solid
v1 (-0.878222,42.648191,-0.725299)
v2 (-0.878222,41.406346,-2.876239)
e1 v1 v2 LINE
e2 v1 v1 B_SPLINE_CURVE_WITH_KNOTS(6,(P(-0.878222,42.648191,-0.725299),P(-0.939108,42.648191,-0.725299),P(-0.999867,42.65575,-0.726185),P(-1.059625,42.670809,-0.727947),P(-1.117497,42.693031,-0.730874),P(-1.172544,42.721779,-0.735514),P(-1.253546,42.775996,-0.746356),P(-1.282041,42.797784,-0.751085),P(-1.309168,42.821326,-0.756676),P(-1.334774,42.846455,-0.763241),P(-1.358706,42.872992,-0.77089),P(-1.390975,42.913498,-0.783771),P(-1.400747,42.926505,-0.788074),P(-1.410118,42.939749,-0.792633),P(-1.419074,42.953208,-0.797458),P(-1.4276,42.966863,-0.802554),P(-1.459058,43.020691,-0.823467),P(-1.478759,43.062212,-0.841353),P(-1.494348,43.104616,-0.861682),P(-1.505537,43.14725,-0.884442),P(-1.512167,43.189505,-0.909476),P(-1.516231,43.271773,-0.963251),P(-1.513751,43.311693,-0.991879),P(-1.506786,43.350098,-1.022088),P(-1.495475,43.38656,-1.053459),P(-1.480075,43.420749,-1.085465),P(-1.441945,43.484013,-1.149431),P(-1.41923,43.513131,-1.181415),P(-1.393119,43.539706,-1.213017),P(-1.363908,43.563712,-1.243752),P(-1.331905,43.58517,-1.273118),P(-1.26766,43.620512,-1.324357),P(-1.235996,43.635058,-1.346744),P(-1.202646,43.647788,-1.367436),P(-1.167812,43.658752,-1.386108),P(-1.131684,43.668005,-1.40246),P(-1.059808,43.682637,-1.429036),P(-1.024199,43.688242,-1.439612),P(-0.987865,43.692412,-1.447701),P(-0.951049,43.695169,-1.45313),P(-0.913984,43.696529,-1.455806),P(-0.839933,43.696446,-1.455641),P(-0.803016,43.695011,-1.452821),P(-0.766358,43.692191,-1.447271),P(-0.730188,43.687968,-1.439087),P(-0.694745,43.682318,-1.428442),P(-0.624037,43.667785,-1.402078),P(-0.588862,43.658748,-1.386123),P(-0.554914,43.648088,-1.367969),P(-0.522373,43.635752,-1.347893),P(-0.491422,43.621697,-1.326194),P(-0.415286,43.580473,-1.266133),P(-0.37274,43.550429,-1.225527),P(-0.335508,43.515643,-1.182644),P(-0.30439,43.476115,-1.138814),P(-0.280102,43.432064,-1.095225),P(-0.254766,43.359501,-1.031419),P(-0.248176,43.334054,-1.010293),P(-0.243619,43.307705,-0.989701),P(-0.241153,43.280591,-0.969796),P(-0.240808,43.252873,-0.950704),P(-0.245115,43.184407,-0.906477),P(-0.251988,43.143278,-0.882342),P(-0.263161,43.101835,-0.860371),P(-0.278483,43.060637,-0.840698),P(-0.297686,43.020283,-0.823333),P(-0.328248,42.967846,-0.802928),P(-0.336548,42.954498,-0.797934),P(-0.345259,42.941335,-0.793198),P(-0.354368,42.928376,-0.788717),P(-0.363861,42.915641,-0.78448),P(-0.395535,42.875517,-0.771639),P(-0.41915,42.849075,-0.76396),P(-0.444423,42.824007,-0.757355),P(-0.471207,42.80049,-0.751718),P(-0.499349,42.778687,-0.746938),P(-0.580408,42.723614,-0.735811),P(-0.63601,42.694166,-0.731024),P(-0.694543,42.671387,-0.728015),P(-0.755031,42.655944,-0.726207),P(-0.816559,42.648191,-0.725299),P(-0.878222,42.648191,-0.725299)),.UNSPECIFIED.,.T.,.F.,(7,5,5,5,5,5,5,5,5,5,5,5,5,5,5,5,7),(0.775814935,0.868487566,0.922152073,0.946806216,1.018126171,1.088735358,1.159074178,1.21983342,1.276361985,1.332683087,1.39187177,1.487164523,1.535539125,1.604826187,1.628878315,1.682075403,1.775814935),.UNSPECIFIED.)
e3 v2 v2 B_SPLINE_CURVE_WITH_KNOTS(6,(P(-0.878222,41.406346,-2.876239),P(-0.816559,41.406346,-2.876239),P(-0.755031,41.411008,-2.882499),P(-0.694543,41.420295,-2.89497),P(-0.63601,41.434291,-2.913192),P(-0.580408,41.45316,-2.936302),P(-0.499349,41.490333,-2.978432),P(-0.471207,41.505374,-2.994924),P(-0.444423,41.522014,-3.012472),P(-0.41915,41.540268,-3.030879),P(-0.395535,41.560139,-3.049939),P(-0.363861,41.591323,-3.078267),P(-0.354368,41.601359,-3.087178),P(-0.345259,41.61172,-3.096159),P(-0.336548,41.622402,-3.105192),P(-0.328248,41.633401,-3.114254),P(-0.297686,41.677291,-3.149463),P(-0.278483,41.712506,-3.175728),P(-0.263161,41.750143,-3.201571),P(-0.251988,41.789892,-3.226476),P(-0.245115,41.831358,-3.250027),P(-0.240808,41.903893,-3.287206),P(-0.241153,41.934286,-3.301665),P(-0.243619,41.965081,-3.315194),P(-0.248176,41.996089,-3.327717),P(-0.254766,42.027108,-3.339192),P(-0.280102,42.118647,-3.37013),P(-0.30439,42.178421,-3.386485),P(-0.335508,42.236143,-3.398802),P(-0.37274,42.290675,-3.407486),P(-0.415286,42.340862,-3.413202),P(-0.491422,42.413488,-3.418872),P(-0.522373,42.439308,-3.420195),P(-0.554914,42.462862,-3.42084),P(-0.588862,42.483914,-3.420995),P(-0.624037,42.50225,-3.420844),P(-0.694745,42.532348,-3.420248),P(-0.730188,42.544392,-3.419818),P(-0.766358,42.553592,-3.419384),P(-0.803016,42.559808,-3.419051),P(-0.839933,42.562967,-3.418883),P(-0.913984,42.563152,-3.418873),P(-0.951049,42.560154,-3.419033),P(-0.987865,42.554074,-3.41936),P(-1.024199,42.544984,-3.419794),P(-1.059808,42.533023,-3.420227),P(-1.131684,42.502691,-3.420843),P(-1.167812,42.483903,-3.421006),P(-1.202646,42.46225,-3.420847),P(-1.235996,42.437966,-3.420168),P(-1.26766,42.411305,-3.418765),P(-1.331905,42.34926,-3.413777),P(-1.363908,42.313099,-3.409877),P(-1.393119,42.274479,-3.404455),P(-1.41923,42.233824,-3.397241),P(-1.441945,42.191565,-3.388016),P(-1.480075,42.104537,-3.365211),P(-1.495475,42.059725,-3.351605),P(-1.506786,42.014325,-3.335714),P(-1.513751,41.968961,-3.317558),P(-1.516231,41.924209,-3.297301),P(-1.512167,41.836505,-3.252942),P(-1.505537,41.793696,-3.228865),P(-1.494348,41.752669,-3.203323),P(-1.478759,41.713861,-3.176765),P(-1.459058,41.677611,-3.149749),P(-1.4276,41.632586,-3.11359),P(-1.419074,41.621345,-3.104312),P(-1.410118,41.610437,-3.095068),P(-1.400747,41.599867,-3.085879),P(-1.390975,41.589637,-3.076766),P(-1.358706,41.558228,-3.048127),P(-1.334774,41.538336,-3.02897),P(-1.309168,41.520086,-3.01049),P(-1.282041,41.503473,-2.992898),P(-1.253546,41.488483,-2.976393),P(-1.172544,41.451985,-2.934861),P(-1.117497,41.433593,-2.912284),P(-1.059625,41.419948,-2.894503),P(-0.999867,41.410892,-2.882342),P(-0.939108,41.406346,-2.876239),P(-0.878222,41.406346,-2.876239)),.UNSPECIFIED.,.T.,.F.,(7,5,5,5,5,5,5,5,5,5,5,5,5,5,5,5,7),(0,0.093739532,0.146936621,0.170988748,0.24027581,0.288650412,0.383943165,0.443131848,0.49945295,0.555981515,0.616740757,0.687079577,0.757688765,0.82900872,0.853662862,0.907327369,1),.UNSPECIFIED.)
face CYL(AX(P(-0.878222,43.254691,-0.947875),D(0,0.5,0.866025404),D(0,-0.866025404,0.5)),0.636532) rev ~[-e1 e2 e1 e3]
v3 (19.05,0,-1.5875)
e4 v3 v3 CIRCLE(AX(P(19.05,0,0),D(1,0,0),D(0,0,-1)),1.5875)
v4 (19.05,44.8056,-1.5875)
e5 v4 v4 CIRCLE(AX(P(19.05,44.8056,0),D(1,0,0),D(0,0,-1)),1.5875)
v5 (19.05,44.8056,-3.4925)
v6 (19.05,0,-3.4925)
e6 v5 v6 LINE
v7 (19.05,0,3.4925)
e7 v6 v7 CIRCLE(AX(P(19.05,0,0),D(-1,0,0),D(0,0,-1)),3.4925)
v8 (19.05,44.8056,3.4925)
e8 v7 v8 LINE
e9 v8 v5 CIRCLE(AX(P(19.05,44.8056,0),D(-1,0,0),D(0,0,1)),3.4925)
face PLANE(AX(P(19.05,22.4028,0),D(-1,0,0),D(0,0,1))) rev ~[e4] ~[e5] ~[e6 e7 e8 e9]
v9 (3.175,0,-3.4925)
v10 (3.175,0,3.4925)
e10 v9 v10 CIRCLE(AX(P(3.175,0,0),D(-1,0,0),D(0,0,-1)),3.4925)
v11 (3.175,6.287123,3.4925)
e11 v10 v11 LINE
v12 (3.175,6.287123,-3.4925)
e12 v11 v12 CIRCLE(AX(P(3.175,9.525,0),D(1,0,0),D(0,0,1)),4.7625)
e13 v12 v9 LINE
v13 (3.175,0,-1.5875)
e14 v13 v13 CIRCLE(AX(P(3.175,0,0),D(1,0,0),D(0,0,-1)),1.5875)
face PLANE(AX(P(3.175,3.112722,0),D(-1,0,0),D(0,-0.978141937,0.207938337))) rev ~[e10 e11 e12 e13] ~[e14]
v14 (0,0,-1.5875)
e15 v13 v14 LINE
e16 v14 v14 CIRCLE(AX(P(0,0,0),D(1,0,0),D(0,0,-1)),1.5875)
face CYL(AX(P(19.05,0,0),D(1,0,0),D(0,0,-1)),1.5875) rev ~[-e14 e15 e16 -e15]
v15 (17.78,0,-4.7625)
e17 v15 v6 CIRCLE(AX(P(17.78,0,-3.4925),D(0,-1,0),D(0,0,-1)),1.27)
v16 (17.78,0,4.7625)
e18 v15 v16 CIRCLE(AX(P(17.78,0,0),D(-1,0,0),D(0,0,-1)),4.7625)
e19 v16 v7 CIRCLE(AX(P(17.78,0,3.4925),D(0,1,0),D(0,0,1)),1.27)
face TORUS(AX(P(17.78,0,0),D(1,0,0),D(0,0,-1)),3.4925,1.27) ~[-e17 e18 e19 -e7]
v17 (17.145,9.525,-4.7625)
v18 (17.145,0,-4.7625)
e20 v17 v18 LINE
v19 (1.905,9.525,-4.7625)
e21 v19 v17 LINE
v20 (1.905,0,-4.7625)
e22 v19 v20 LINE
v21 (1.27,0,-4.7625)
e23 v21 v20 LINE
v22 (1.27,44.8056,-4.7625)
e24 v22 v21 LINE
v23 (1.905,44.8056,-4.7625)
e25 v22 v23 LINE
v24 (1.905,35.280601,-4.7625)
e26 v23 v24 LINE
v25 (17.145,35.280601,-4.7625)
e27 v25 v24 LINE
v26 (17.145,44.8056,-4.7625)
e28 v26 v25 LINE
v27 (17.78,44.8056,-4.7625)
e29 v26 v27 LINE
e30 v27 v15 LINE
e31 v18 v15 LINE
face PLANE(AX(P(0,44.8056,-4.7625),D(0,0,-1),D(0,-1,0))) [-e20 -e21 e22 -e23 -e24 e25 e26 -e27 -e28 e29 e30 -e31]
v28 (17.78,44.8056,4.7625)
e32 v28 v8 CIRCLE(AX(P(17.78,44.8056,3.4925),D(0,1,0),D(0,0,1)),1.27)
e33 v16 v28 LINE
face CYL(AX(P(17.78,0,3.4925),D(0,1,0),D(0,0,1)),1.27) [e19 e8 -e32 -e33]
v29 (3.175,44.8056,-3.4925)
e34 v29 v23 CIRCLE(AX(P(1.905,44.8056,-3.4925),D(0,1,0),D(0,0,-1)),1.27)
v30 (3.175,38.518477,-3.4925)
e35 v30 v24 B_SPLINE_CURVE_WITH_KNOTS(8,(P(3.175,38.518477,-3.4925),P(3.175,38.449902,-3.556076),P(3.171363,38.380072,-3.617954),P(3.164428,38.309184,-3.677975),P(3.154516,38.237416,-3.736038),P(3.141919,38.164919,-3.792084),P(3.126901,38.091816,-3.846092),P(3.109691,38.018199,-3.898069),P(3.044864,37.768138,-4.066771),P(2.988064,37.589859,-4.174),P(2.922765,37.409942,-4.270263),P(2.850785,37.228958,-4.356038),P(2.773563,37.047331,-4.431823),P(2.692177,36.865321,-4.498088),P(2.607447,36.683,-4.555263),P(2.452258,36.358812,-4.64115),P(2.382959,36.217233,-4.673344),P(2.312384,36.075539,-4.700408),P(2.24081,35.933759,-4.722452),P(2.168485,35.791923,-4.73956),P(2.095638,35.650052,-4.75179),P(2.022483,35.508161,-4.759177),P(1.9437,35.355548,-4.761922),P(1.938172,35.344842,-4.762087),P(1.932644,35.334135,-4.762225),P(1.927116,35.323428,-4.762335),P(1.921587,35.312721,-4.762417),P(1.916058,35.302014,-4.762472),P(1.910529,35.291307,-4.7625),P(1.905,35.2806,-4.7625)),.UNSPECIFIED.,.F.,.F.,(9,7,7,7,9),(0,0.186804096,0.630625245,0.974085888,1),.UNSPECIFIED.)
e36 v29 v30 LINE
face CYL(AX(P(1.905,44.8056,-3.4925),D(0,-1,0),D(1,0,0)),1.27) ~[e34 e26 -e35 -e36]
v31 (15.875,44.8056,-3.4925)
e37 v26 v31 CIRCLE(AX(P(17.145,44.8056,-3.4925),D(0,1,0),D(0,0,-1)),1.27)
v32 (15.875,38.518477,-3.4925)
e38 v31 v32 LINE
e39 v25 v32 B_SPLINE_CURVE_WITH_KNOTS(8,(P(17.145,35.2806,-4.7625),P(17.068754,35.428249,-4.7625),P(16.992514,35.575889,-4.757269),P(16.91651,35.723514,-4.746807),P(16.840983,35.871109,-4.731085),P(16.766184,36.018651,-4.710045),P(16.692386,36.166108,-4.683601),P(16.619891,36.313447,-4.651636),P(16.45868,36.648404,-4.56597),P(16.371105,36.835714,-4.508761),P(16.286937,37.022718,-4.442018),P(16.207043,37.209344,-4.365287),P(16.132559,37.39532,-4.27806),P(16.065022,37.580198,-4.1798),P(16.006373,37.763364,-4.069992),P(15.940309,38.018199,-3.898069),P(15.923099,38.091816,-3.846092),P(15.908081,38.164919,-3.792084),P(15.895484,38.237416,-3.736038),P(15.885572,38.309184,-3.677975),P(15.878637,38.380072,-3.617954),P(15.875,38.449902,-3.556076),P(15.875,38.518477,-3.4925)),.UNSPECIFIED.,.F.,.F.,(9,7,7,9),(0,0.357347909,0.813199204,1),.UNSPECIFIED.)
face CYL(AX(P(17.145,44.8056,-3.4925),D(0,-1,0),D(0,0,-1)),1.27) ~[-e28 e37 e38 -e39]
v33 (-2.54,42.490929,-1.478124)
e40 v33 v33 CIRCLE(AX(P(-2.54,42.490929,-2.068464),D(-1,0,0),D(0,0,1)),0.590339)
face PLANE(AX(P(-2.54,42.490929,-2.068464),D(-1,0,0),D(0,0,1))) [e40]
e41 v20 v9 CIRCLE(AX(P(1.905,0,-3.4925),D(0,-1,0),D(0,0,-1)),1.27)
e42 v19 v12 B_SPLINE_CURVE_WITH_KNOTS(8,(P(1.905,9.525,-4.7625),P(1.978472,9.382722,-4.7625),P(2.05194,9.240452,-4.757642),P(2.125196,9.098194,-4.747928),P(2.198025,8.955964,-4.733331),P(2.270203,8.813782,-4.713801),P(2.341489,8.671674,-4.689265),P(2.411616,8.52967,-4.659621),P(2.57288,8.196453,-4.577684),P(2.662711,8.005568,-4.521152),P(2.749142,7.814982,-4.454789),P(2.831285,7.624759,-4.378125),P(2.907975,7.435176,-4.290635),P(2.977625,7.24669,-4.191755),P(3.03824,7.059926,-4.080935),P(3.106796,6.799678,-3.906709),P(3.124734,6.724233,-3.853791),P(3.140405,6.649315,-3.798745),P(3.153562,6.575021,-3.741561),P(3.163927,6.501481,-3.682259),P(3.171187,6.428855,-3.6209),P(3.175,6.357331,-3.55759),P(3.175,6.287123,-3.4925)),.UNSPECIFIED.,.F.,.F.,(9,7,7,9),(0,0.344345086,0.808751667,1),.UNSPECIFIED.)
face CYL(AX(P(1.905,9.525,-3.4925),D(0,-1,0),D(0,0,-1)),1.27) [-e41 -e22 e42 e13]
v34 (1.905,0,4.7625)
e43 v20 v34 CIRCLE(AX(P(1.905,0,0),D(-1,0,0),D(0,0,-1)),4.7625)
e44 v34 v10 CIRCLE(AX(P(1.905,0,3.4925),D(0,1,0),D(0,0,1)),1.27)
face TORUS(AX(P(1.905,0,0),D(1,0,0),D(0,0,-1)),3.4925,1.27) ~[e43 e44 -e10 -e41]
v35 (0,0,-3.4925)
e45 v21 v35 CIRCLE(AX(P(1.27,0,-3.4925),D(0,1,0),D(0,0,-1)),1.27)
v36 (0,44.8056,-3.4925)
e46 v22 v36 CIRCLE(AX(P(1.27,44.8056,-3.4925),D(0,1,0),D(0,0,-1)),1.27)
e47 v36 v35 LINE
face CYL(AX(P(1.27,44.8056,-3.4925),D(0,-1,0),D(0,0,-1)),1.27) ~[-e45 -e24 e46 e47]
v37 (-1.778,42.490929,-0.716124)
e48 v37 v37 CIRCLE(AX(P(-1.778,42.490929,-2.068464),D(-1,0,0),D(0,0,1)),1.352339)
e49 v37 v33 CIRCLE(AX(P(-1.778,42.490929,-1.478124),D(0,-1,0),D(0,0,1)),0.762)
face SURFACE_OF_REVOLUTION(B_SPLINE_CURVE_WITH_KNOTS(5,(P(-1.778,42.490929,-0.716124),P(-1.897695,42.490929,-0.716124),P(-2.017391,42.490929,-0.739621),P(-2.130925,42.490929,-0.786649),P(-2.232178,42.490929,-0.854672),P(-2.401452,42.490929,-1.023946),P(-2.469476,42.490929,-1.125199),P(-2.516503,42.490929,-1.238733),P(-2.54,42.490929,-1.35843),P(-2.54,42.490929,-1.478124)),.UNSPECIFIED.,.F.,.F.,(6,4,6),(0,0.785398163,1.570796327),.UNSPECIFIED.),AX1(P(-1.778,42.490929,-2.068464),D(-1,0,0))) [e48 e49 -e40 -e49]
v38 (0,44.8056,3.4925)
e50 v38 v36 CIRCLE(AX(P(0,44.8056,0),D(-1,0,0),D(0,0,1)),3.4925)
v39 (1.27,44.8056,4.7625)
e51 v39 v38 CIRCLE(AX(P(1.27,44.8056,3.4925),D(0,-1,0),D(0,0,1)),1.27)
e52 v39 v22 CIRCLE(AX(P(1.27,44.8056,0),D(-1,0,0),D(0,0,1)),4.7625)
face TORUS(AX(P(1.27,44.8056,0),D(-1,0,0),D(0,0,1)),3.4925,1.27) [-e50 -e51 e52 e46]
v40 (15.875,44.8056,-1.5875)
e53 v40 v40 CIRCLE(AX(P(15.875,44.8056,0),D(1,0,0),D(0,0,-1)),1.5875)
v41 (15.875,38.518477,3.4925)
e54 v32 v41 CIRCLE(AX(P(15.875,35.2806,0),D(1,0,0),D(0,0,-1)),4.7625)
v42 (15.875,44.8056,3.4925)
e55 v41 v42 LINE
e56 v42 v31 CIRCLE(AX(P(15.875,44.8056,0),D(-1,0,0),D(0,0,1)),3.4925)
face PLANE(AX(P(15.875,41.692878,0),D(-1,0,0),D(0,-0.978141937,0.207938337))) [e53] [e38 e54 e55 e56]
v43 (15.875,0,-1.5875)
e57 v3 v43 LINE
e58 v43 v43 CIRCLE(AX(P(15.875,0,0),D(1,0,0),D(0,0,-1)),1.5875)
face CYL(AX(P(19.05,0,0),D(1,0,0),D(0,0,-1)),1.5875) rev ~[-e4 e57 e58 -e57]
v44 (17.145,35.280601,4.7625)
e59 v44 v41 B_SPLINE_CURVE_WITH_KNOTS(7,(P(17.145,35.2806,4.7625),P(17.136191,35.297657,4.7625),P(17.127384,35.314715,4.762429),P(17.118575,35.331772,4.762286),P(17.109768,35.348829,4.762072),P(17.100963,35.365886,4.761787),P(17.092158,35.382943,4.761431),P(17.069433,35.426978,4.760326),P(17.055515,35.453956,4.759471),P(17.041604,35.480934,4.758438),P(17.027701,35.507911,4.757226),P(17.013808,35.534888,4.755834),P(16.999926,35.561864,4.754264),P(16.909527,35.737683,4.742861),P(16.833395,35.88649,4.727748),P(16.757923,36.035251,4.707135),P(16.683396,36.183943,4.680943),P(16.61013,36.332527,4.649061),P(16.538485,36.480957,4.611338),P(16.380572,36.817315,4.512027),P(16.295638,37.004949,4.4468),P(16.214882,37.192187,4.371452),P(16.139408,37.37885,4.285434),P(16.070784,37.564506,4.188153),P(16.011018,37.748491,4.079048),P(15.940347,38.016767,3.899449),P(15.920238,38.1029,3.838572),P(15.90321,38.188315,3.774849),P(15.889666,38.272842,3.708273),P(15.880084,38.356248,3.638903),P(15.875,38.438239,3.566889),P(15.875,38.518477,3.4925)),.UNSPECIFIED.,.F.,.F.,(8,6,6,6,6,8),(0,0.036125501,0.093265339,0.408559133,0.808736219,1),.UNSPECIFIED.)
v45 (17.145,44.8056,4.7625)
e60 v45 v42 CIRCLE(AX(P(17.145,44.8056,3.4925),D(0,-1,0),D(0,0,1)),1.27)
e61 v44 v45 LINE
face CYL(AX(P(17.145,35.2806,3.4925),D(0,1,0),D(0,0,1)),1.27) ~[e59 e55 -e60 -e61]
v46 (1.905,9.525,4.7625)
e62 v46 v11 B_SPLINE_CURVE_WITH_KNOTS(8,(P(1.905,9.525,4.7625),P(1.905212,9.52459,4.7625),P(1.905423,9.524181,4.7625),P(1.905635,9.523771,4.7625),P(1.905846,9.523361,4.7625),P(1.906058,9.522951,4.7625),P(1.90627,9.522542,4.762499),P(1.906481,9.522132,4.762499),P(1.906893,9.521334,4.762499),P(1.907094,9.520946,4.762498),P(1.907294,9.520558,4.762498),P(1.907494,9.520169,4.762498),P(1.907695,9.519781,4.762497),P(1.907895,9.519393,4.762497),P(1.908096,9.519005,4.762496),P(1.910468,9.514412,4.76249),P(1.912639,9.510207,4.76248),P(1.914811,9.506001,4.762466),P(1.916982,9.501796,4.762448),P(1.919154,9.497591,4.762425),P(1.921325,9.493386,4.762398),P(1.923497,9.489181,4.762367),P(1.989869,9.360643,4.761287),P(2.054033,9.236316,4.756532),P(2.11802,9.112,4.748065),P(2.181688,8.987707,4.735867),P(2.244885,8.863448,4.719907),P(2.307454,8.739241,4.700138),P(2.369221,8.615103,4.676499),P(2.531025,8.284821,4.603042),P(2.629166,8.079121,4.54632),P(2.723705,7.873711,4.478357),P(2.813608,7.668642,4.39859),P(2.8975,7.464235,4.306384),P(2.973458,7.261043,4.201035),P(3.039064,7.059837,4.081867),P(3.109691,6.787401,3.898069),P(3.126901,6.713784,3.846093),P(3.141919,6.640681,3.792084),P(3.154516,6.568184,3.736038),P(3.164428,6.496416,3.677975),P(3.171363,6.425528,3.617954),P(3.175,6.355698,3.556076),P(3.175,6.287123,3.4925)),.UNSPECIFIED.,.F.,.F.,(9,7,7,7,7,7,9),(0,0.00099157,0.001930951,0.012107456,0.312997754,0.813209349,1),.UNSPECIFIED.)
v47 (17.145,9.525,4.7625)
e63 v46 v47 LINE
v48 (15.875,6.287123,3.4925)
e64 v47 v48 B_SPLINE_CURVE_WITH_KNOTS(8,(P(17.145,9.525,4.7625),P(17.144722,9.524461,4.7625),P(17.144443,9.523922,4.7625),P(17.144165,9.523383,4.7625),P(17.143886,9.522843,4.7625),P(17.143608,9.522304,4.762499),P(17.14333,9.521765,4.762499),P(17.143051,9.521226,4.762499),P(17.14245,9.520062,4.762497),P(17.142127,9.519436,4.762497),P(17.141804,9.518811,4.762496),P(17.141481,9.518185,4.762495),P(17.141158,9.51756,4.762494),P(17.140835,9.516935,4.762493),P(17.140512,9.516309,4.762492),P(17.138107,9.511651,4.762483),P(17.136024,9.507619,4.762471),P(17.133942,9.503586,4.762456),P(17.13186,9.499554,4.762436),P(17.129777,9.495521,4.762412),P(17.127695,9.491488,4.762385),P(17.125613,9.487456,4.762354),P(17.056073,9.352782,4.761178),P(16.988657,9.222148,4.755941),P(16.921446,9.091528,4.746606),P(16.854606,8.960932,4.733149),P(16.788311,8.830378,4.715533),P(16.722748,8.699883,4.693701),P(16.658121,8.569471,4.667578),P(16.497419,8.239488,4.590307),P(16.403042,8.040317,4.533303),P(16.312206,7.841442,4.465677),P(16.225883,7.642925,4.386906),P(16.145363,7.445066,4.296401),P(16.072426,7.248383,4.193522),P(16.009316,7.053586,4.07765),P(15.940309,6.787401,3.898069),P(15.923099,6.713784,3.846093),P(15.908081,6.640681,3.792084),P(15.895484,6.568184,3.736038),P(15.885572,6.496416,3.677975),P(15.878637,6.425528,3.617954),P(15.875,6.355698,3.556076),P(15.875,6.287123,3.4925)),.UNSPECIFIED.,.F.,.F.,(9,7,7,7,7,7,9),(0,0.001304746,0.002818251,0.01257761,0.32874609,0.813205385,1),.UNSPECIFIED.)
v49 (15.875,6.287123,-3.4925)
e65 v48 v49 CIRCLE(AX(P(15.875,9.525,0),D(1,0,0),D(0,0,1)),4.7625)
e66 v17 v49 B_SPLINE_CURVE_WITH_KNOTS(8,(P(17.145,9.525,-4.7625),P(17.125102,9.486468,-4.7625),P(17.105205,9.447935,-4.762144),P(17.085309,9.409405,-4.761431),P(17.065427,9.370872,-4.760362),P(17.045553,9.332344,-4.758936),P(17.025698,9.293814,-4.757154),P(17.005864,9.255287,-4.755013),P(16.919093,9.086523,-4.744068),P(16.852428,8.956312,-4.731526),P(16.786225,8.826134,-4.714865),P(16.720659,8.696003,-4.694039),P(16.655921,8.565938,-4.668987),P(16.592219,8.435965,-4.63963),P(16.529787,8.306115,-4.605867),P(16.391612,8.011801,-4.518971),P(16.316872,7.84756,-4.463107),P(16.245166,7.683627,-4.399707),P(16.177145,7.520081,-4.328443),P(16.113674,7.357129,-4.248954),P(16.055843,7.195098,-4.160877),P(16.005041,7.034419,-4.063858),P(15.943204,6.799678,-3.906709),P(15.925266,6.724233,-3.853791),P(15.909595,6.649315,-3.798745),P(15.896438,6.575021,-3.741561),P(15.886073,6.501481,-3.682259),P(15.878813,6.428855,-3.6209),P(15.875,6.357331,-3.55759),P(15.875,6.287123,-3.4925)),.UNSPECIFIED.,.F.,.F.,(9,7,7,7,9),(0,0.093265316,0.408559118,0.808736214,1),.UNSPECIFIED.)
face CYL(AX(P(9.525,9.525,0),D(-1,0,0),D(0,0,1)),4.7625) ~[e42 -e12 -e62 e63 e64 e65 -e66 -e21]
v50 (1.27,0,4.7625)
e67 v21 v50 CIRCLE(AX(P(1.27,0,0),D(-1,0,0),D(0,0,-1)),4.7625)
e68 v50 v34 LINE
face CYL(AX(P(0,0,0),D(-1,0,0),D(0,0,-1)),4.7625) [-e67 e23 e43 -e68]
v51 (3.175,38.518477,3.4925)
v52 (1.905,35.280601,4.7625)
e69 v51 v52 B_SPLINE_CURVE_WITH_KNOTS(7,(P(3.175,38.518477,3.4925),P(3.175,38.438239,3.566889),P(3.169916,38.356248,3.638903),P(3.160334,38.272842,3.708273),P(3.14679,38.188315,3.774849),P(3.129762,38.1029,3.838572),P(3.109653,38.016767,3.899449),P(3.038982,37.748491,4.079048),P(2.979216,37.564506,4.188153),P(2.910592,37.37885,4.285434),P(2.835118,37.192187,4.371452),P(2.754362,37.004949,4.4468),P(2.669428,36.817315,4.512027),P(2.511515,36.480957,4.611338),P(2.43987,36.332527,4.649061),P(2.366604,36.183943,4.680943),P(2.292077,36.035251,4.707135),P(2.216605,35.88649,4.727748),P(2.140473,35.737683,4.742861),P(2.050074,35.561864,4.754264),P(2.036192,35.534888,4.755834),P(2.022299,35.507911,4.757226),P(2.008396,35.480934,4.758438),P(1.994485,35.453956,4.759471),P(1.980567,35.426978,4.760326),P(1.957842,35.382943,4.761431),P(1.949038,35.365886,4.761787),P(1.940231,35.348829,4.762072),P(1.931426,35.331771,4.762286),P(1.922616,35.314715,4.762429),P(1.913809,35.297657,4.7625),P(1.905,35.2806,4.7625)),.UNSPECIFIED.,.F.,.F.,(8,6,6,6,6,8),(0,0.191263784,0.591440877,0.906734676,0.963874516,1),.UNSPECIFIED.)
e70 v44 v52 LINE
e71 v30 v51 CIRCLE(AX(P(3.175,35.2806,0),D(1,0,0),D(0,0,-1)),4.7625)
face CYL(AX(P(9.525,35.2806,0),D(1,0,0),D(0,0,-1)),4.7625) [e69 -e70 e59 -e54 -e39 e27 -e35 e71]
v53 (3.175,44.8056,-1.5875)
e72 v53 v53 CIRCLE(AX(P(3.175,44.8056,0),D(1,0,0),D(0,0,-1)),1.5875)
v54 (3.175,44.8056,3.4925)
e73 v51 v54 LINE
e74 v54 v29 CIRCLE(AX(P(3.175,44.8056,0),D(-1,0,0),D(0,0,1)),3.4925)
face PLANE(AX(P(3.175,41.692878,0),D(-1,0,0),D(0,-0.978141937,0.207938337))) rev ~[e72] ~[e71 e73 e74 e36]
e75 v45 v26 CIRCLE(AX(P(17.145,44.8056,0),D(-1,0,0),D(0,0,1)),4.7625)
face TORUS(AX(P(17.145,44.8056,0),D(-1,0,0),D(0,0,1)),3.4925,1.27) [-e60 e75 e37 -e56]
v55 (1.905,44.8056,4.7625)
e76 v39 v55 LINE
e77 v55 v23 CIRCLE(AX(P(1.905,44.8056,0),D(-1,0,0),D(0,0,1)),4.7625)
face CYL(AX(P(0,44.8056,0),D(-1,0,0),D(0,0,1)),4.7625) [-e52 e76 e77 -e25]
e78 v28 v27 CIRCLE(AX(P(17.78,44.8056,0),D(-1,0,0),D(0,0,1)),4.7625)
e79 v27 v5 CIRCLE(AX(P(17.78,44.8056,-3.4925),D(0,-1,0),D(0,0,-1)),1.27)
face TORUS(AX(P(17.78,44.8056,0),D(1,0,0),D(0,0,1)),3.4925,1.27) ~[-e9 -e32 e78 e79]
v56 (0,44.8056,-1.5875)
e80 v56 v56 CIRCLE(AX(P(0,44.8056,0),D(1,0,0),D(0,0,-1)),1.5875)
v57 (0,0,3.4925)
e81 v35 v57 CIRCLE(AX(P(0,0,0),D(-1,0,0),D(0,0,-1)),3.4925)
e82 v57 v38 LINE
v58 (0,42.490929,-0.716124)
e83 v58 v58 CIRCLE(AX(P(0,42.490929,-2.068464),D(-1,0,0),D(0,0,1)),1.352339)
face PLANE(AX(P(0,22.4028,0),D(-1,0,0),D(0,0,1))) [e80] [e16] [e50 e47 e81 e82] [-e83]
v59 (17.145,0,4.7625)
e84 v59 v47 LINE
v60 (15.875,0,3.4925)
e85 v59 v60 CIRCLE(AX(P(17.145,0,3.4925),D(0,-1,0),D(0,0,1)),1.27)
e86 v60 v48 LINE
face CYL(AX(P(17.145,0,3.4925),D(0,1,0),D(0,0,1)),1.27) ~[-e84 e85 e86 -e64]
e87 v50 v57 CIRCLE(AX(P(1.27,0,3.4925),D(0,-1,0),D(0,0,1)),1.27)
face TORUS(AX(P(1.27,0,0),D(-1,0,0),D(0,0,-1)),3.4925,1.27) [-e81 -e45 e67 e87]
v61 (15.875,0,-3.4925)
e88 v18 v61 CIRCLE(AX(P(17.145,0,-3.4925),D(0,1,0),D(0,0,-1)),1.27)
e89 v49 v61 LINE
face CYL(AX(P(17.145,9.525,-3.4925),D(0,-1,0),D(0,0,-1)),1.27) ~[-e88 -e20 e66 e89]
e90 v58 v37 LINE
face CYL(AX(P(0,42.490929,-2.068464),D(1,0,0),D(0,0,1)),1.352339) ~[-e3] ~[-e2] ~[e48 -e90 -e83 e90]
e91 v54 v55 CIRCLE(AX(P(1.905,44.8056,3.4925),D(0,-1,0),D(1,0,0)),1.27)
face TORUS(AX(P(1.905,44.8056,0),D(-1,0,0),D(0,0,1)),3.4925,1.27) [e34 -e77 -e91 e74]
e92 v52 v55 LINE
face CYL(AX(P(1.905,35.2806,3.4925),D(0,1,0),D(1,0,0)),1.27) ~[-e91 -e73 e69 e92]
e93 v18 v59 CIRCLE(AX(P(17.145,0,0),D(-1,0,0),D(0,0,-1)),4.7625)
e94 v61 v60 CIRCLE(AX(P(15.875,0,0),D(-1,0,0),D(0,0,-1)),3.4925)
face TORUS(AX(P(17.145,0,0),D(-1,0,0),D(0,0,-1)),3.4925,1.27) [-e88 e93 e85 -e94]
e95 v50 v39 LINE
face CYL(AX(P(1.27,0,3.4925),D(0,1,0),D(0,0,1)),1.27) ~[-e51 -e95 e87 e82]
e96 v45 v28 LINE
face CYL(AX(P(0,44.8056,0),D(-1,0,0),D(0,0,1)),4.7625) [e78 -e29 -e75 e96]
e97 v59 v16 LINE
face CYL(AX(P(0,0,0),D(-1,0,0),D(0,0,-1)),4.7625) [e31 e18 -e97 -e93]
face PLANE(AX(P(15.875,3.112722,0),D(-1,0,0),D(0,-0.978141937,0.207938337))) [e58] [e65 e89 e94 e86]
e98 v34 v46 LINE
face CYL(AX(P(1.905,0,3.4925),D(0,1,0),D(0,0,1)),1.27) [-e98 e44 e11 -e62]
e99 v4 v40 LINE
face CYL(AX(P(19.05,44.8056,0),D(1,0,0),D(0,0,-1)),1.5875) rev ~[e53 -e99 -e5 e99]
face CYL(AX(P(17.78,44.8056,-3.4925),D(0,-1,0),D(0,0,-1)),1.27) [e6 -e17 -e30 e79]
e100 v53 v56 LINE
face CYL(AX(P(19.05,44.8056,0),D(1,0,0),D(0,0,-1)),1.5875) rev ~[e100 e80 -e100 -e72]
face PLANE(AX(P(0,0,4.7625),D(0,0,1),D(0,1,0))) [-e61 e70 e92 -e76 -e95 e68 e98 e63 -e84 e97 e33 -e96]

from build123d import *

# Parameters (mm, degrees)
BOSS_EXTRUDE1_DEPTH = 19.05
SKETCH2_R           = 1.5875
SKETCH2_R_2         = 1.5874999999999988
CUT_EXTRUDE1_DEPTH  = 19.05
CUT_EXTRUDE2_DEPTH  = 6.35
FILLET1_R           = 1.27
SKETCH3_R           = 1.3523393116529026
BOSS_EXTRUDE2_DEPTH = 2.54
FILLET2_R           = 0.762
SKETCH4_R           = 0.6365323226185287
CUT_EXTRUDE3_DEPTH  = 50.150613196033525


with BuildPart() as part:
    # Sketch1 → Boss-Extrude1 (new body)
    with BuildSketch(Plane(origin=(0, 0, 0), x_dir=(0, 0, -1), z_dir=(1, 0, 0))):
        with BuildLine():
            Line((-4.7625, 0), (-4.7625, 44.8056))
            ThreePointArc((-4.7625, 44.8056), (2.9e-16, 49.5681), (4.7625, 44.8056))
            Line((4.7625, 44.8056), (4.762500000000005, 5.8e-16))
            ThreePointArc((4.762500000000005, 5.8e-16), (1.35e-15, -4.762500000000005), (-4.7625, 0))
        make_face()
    extrude(amount=BOSS_EXTRUDE1_DEPTH)

    # Sketch2 → Cut-Extrude1 (cut)
    with BuildSketch(Plane(origin=(19.05, 0, 0), x_dir=(0, 0, -1), z_dir=(1, 0, 0))):
        Circle(SKETCH2_R)
        with Locations((0, 44.8056)):
            Circle(SKETCH2_R_2)
    extrude(amount=-CUT_EXTRUDE1_DEPTH, mode=Mode.SUBTRACT)

    # 3DSketch1 → Cut-Extrude2 (cut, symmetric)
    with BuildSketch(Plane(origin=(9.524999999999954, 44.80559999999997, -4.762500000000004), x_dir=(0, -0.9781419365644765, 0.20793833685469326), z_dir=(-1, -9.3e-16, 3.6e-16))):
        with BuildLine():
            Line((0, 0), (9.316801945776646, -1.9806126585409503))
            ThreePointArc((9.316801945776646, -1.9806126585409503), (5.6487073021588, 3.668094643617845), (11.2974146043176, 7.336189287235693))
            Line((11.2974146043176, 7.336189287235693), (1.9806126585409412, 9.316801945776648))
            ThreePointArc((1.9806126585409412, 9.316801945776648), (-3.6680946436178474, 5.648707302158794), (0, 0))
        make_face()
        with BuildLine():
            Line((45.806849011474235, 0), (36.49004706569759, 1.980612658540955))
            ThreePointArc((36.49004706569759, 1.980612658540955), (40.15814170931544, -3.668094643617836), (34.50943440715664, -7.336189287235687))
            Line((34.50943440715664, -7.336189287235687), (43.82623635293327, -9.316801945776637))
            ThreePointArc((43.82623635293327, -9.316801945776637), (49.47494365509206, -5.648707302158793), (45.806849011474235, 0))
        make_face()
    extrude(amount=CUT_EXTRUDE2_DEPTH, both=True, mode=Mode.SUBTRACT)

    # Fillet1
    fillet1_edges = [part.edges().sort_by_distance(p)[0] for p in [
        (19.05, 49.5681, 7e-17),
        (19.05, 22.4028, 4.7625),
        (15.874999999999961, 40.04309999999998, 4.762500000000003),
        (15.874999999999957, 40.043099999999974, -4.762500000000005),
        (3.174999999999959, 40.04309999999996, -4.762499999999999),
        (3.1749999999999625, 40.04309999999997, 4.762500000000008),
        (19.05, -4.762500000000005, -2.98e-15),
        (0, 22.4028, 4.7625),
        (0, 49.5681, 7e-17),
        (15.874999999999995, 4.762500000000003, 4.762499999999996),
        (15.874999999999991, 4.762500000000003, -4.762500000000006),
        (3.1749999999999954, 4.762499999999989, 4.762500000000001),
        (3.174999999999992, 4.762499999999989, -4.762500000000001),
        (0, 22.4028, -4.762500000000003),
        (0, -4.762500000000005, -2.98e-15),
        (19.05, 22.4028, -4.762500000000003),
    ]]
    fillet(fillet1_edges, radius=FILLET1_R)

    # Sketch3 → Boss-Extrude2 (add)
    with BuildSketch(Plane.ZY):
        with Locations((-2.068463746823568, 42.49092897757123)):
            Circle(SKETCH3_R)
    extrude(amount=BOSS_EXTRUDE2_DEPTH)

    # Fillet2
    fillet2_edges = [part.edges().sort_by_distance(p)[0] for p in [
        (-2.54, 42.49092897757123, -3.42080305847647),
    ]]
    fillet(fillet2_edges, radius=FILLET2_R)

    # Sketch4 → Cut-Extrude3 (cut, through all)
    with BuildSketch(Plane(origin=(0, 10.403230824440865, 18.01892435079848), x_dir=(-1, 0, 0), z_dir=(0, 0.49999999999999484, 0.8660254037844416))):
        with Locations(Location((0.8782218587697344, -37.93359892462922, 0), (0, 0, 90))):
            Circle(SKETCH4_R)
    extrude(amount=-CUT_EXTRUDE3_DEPTH, mode=Mode.SUBTRACT)


solid = part.part
